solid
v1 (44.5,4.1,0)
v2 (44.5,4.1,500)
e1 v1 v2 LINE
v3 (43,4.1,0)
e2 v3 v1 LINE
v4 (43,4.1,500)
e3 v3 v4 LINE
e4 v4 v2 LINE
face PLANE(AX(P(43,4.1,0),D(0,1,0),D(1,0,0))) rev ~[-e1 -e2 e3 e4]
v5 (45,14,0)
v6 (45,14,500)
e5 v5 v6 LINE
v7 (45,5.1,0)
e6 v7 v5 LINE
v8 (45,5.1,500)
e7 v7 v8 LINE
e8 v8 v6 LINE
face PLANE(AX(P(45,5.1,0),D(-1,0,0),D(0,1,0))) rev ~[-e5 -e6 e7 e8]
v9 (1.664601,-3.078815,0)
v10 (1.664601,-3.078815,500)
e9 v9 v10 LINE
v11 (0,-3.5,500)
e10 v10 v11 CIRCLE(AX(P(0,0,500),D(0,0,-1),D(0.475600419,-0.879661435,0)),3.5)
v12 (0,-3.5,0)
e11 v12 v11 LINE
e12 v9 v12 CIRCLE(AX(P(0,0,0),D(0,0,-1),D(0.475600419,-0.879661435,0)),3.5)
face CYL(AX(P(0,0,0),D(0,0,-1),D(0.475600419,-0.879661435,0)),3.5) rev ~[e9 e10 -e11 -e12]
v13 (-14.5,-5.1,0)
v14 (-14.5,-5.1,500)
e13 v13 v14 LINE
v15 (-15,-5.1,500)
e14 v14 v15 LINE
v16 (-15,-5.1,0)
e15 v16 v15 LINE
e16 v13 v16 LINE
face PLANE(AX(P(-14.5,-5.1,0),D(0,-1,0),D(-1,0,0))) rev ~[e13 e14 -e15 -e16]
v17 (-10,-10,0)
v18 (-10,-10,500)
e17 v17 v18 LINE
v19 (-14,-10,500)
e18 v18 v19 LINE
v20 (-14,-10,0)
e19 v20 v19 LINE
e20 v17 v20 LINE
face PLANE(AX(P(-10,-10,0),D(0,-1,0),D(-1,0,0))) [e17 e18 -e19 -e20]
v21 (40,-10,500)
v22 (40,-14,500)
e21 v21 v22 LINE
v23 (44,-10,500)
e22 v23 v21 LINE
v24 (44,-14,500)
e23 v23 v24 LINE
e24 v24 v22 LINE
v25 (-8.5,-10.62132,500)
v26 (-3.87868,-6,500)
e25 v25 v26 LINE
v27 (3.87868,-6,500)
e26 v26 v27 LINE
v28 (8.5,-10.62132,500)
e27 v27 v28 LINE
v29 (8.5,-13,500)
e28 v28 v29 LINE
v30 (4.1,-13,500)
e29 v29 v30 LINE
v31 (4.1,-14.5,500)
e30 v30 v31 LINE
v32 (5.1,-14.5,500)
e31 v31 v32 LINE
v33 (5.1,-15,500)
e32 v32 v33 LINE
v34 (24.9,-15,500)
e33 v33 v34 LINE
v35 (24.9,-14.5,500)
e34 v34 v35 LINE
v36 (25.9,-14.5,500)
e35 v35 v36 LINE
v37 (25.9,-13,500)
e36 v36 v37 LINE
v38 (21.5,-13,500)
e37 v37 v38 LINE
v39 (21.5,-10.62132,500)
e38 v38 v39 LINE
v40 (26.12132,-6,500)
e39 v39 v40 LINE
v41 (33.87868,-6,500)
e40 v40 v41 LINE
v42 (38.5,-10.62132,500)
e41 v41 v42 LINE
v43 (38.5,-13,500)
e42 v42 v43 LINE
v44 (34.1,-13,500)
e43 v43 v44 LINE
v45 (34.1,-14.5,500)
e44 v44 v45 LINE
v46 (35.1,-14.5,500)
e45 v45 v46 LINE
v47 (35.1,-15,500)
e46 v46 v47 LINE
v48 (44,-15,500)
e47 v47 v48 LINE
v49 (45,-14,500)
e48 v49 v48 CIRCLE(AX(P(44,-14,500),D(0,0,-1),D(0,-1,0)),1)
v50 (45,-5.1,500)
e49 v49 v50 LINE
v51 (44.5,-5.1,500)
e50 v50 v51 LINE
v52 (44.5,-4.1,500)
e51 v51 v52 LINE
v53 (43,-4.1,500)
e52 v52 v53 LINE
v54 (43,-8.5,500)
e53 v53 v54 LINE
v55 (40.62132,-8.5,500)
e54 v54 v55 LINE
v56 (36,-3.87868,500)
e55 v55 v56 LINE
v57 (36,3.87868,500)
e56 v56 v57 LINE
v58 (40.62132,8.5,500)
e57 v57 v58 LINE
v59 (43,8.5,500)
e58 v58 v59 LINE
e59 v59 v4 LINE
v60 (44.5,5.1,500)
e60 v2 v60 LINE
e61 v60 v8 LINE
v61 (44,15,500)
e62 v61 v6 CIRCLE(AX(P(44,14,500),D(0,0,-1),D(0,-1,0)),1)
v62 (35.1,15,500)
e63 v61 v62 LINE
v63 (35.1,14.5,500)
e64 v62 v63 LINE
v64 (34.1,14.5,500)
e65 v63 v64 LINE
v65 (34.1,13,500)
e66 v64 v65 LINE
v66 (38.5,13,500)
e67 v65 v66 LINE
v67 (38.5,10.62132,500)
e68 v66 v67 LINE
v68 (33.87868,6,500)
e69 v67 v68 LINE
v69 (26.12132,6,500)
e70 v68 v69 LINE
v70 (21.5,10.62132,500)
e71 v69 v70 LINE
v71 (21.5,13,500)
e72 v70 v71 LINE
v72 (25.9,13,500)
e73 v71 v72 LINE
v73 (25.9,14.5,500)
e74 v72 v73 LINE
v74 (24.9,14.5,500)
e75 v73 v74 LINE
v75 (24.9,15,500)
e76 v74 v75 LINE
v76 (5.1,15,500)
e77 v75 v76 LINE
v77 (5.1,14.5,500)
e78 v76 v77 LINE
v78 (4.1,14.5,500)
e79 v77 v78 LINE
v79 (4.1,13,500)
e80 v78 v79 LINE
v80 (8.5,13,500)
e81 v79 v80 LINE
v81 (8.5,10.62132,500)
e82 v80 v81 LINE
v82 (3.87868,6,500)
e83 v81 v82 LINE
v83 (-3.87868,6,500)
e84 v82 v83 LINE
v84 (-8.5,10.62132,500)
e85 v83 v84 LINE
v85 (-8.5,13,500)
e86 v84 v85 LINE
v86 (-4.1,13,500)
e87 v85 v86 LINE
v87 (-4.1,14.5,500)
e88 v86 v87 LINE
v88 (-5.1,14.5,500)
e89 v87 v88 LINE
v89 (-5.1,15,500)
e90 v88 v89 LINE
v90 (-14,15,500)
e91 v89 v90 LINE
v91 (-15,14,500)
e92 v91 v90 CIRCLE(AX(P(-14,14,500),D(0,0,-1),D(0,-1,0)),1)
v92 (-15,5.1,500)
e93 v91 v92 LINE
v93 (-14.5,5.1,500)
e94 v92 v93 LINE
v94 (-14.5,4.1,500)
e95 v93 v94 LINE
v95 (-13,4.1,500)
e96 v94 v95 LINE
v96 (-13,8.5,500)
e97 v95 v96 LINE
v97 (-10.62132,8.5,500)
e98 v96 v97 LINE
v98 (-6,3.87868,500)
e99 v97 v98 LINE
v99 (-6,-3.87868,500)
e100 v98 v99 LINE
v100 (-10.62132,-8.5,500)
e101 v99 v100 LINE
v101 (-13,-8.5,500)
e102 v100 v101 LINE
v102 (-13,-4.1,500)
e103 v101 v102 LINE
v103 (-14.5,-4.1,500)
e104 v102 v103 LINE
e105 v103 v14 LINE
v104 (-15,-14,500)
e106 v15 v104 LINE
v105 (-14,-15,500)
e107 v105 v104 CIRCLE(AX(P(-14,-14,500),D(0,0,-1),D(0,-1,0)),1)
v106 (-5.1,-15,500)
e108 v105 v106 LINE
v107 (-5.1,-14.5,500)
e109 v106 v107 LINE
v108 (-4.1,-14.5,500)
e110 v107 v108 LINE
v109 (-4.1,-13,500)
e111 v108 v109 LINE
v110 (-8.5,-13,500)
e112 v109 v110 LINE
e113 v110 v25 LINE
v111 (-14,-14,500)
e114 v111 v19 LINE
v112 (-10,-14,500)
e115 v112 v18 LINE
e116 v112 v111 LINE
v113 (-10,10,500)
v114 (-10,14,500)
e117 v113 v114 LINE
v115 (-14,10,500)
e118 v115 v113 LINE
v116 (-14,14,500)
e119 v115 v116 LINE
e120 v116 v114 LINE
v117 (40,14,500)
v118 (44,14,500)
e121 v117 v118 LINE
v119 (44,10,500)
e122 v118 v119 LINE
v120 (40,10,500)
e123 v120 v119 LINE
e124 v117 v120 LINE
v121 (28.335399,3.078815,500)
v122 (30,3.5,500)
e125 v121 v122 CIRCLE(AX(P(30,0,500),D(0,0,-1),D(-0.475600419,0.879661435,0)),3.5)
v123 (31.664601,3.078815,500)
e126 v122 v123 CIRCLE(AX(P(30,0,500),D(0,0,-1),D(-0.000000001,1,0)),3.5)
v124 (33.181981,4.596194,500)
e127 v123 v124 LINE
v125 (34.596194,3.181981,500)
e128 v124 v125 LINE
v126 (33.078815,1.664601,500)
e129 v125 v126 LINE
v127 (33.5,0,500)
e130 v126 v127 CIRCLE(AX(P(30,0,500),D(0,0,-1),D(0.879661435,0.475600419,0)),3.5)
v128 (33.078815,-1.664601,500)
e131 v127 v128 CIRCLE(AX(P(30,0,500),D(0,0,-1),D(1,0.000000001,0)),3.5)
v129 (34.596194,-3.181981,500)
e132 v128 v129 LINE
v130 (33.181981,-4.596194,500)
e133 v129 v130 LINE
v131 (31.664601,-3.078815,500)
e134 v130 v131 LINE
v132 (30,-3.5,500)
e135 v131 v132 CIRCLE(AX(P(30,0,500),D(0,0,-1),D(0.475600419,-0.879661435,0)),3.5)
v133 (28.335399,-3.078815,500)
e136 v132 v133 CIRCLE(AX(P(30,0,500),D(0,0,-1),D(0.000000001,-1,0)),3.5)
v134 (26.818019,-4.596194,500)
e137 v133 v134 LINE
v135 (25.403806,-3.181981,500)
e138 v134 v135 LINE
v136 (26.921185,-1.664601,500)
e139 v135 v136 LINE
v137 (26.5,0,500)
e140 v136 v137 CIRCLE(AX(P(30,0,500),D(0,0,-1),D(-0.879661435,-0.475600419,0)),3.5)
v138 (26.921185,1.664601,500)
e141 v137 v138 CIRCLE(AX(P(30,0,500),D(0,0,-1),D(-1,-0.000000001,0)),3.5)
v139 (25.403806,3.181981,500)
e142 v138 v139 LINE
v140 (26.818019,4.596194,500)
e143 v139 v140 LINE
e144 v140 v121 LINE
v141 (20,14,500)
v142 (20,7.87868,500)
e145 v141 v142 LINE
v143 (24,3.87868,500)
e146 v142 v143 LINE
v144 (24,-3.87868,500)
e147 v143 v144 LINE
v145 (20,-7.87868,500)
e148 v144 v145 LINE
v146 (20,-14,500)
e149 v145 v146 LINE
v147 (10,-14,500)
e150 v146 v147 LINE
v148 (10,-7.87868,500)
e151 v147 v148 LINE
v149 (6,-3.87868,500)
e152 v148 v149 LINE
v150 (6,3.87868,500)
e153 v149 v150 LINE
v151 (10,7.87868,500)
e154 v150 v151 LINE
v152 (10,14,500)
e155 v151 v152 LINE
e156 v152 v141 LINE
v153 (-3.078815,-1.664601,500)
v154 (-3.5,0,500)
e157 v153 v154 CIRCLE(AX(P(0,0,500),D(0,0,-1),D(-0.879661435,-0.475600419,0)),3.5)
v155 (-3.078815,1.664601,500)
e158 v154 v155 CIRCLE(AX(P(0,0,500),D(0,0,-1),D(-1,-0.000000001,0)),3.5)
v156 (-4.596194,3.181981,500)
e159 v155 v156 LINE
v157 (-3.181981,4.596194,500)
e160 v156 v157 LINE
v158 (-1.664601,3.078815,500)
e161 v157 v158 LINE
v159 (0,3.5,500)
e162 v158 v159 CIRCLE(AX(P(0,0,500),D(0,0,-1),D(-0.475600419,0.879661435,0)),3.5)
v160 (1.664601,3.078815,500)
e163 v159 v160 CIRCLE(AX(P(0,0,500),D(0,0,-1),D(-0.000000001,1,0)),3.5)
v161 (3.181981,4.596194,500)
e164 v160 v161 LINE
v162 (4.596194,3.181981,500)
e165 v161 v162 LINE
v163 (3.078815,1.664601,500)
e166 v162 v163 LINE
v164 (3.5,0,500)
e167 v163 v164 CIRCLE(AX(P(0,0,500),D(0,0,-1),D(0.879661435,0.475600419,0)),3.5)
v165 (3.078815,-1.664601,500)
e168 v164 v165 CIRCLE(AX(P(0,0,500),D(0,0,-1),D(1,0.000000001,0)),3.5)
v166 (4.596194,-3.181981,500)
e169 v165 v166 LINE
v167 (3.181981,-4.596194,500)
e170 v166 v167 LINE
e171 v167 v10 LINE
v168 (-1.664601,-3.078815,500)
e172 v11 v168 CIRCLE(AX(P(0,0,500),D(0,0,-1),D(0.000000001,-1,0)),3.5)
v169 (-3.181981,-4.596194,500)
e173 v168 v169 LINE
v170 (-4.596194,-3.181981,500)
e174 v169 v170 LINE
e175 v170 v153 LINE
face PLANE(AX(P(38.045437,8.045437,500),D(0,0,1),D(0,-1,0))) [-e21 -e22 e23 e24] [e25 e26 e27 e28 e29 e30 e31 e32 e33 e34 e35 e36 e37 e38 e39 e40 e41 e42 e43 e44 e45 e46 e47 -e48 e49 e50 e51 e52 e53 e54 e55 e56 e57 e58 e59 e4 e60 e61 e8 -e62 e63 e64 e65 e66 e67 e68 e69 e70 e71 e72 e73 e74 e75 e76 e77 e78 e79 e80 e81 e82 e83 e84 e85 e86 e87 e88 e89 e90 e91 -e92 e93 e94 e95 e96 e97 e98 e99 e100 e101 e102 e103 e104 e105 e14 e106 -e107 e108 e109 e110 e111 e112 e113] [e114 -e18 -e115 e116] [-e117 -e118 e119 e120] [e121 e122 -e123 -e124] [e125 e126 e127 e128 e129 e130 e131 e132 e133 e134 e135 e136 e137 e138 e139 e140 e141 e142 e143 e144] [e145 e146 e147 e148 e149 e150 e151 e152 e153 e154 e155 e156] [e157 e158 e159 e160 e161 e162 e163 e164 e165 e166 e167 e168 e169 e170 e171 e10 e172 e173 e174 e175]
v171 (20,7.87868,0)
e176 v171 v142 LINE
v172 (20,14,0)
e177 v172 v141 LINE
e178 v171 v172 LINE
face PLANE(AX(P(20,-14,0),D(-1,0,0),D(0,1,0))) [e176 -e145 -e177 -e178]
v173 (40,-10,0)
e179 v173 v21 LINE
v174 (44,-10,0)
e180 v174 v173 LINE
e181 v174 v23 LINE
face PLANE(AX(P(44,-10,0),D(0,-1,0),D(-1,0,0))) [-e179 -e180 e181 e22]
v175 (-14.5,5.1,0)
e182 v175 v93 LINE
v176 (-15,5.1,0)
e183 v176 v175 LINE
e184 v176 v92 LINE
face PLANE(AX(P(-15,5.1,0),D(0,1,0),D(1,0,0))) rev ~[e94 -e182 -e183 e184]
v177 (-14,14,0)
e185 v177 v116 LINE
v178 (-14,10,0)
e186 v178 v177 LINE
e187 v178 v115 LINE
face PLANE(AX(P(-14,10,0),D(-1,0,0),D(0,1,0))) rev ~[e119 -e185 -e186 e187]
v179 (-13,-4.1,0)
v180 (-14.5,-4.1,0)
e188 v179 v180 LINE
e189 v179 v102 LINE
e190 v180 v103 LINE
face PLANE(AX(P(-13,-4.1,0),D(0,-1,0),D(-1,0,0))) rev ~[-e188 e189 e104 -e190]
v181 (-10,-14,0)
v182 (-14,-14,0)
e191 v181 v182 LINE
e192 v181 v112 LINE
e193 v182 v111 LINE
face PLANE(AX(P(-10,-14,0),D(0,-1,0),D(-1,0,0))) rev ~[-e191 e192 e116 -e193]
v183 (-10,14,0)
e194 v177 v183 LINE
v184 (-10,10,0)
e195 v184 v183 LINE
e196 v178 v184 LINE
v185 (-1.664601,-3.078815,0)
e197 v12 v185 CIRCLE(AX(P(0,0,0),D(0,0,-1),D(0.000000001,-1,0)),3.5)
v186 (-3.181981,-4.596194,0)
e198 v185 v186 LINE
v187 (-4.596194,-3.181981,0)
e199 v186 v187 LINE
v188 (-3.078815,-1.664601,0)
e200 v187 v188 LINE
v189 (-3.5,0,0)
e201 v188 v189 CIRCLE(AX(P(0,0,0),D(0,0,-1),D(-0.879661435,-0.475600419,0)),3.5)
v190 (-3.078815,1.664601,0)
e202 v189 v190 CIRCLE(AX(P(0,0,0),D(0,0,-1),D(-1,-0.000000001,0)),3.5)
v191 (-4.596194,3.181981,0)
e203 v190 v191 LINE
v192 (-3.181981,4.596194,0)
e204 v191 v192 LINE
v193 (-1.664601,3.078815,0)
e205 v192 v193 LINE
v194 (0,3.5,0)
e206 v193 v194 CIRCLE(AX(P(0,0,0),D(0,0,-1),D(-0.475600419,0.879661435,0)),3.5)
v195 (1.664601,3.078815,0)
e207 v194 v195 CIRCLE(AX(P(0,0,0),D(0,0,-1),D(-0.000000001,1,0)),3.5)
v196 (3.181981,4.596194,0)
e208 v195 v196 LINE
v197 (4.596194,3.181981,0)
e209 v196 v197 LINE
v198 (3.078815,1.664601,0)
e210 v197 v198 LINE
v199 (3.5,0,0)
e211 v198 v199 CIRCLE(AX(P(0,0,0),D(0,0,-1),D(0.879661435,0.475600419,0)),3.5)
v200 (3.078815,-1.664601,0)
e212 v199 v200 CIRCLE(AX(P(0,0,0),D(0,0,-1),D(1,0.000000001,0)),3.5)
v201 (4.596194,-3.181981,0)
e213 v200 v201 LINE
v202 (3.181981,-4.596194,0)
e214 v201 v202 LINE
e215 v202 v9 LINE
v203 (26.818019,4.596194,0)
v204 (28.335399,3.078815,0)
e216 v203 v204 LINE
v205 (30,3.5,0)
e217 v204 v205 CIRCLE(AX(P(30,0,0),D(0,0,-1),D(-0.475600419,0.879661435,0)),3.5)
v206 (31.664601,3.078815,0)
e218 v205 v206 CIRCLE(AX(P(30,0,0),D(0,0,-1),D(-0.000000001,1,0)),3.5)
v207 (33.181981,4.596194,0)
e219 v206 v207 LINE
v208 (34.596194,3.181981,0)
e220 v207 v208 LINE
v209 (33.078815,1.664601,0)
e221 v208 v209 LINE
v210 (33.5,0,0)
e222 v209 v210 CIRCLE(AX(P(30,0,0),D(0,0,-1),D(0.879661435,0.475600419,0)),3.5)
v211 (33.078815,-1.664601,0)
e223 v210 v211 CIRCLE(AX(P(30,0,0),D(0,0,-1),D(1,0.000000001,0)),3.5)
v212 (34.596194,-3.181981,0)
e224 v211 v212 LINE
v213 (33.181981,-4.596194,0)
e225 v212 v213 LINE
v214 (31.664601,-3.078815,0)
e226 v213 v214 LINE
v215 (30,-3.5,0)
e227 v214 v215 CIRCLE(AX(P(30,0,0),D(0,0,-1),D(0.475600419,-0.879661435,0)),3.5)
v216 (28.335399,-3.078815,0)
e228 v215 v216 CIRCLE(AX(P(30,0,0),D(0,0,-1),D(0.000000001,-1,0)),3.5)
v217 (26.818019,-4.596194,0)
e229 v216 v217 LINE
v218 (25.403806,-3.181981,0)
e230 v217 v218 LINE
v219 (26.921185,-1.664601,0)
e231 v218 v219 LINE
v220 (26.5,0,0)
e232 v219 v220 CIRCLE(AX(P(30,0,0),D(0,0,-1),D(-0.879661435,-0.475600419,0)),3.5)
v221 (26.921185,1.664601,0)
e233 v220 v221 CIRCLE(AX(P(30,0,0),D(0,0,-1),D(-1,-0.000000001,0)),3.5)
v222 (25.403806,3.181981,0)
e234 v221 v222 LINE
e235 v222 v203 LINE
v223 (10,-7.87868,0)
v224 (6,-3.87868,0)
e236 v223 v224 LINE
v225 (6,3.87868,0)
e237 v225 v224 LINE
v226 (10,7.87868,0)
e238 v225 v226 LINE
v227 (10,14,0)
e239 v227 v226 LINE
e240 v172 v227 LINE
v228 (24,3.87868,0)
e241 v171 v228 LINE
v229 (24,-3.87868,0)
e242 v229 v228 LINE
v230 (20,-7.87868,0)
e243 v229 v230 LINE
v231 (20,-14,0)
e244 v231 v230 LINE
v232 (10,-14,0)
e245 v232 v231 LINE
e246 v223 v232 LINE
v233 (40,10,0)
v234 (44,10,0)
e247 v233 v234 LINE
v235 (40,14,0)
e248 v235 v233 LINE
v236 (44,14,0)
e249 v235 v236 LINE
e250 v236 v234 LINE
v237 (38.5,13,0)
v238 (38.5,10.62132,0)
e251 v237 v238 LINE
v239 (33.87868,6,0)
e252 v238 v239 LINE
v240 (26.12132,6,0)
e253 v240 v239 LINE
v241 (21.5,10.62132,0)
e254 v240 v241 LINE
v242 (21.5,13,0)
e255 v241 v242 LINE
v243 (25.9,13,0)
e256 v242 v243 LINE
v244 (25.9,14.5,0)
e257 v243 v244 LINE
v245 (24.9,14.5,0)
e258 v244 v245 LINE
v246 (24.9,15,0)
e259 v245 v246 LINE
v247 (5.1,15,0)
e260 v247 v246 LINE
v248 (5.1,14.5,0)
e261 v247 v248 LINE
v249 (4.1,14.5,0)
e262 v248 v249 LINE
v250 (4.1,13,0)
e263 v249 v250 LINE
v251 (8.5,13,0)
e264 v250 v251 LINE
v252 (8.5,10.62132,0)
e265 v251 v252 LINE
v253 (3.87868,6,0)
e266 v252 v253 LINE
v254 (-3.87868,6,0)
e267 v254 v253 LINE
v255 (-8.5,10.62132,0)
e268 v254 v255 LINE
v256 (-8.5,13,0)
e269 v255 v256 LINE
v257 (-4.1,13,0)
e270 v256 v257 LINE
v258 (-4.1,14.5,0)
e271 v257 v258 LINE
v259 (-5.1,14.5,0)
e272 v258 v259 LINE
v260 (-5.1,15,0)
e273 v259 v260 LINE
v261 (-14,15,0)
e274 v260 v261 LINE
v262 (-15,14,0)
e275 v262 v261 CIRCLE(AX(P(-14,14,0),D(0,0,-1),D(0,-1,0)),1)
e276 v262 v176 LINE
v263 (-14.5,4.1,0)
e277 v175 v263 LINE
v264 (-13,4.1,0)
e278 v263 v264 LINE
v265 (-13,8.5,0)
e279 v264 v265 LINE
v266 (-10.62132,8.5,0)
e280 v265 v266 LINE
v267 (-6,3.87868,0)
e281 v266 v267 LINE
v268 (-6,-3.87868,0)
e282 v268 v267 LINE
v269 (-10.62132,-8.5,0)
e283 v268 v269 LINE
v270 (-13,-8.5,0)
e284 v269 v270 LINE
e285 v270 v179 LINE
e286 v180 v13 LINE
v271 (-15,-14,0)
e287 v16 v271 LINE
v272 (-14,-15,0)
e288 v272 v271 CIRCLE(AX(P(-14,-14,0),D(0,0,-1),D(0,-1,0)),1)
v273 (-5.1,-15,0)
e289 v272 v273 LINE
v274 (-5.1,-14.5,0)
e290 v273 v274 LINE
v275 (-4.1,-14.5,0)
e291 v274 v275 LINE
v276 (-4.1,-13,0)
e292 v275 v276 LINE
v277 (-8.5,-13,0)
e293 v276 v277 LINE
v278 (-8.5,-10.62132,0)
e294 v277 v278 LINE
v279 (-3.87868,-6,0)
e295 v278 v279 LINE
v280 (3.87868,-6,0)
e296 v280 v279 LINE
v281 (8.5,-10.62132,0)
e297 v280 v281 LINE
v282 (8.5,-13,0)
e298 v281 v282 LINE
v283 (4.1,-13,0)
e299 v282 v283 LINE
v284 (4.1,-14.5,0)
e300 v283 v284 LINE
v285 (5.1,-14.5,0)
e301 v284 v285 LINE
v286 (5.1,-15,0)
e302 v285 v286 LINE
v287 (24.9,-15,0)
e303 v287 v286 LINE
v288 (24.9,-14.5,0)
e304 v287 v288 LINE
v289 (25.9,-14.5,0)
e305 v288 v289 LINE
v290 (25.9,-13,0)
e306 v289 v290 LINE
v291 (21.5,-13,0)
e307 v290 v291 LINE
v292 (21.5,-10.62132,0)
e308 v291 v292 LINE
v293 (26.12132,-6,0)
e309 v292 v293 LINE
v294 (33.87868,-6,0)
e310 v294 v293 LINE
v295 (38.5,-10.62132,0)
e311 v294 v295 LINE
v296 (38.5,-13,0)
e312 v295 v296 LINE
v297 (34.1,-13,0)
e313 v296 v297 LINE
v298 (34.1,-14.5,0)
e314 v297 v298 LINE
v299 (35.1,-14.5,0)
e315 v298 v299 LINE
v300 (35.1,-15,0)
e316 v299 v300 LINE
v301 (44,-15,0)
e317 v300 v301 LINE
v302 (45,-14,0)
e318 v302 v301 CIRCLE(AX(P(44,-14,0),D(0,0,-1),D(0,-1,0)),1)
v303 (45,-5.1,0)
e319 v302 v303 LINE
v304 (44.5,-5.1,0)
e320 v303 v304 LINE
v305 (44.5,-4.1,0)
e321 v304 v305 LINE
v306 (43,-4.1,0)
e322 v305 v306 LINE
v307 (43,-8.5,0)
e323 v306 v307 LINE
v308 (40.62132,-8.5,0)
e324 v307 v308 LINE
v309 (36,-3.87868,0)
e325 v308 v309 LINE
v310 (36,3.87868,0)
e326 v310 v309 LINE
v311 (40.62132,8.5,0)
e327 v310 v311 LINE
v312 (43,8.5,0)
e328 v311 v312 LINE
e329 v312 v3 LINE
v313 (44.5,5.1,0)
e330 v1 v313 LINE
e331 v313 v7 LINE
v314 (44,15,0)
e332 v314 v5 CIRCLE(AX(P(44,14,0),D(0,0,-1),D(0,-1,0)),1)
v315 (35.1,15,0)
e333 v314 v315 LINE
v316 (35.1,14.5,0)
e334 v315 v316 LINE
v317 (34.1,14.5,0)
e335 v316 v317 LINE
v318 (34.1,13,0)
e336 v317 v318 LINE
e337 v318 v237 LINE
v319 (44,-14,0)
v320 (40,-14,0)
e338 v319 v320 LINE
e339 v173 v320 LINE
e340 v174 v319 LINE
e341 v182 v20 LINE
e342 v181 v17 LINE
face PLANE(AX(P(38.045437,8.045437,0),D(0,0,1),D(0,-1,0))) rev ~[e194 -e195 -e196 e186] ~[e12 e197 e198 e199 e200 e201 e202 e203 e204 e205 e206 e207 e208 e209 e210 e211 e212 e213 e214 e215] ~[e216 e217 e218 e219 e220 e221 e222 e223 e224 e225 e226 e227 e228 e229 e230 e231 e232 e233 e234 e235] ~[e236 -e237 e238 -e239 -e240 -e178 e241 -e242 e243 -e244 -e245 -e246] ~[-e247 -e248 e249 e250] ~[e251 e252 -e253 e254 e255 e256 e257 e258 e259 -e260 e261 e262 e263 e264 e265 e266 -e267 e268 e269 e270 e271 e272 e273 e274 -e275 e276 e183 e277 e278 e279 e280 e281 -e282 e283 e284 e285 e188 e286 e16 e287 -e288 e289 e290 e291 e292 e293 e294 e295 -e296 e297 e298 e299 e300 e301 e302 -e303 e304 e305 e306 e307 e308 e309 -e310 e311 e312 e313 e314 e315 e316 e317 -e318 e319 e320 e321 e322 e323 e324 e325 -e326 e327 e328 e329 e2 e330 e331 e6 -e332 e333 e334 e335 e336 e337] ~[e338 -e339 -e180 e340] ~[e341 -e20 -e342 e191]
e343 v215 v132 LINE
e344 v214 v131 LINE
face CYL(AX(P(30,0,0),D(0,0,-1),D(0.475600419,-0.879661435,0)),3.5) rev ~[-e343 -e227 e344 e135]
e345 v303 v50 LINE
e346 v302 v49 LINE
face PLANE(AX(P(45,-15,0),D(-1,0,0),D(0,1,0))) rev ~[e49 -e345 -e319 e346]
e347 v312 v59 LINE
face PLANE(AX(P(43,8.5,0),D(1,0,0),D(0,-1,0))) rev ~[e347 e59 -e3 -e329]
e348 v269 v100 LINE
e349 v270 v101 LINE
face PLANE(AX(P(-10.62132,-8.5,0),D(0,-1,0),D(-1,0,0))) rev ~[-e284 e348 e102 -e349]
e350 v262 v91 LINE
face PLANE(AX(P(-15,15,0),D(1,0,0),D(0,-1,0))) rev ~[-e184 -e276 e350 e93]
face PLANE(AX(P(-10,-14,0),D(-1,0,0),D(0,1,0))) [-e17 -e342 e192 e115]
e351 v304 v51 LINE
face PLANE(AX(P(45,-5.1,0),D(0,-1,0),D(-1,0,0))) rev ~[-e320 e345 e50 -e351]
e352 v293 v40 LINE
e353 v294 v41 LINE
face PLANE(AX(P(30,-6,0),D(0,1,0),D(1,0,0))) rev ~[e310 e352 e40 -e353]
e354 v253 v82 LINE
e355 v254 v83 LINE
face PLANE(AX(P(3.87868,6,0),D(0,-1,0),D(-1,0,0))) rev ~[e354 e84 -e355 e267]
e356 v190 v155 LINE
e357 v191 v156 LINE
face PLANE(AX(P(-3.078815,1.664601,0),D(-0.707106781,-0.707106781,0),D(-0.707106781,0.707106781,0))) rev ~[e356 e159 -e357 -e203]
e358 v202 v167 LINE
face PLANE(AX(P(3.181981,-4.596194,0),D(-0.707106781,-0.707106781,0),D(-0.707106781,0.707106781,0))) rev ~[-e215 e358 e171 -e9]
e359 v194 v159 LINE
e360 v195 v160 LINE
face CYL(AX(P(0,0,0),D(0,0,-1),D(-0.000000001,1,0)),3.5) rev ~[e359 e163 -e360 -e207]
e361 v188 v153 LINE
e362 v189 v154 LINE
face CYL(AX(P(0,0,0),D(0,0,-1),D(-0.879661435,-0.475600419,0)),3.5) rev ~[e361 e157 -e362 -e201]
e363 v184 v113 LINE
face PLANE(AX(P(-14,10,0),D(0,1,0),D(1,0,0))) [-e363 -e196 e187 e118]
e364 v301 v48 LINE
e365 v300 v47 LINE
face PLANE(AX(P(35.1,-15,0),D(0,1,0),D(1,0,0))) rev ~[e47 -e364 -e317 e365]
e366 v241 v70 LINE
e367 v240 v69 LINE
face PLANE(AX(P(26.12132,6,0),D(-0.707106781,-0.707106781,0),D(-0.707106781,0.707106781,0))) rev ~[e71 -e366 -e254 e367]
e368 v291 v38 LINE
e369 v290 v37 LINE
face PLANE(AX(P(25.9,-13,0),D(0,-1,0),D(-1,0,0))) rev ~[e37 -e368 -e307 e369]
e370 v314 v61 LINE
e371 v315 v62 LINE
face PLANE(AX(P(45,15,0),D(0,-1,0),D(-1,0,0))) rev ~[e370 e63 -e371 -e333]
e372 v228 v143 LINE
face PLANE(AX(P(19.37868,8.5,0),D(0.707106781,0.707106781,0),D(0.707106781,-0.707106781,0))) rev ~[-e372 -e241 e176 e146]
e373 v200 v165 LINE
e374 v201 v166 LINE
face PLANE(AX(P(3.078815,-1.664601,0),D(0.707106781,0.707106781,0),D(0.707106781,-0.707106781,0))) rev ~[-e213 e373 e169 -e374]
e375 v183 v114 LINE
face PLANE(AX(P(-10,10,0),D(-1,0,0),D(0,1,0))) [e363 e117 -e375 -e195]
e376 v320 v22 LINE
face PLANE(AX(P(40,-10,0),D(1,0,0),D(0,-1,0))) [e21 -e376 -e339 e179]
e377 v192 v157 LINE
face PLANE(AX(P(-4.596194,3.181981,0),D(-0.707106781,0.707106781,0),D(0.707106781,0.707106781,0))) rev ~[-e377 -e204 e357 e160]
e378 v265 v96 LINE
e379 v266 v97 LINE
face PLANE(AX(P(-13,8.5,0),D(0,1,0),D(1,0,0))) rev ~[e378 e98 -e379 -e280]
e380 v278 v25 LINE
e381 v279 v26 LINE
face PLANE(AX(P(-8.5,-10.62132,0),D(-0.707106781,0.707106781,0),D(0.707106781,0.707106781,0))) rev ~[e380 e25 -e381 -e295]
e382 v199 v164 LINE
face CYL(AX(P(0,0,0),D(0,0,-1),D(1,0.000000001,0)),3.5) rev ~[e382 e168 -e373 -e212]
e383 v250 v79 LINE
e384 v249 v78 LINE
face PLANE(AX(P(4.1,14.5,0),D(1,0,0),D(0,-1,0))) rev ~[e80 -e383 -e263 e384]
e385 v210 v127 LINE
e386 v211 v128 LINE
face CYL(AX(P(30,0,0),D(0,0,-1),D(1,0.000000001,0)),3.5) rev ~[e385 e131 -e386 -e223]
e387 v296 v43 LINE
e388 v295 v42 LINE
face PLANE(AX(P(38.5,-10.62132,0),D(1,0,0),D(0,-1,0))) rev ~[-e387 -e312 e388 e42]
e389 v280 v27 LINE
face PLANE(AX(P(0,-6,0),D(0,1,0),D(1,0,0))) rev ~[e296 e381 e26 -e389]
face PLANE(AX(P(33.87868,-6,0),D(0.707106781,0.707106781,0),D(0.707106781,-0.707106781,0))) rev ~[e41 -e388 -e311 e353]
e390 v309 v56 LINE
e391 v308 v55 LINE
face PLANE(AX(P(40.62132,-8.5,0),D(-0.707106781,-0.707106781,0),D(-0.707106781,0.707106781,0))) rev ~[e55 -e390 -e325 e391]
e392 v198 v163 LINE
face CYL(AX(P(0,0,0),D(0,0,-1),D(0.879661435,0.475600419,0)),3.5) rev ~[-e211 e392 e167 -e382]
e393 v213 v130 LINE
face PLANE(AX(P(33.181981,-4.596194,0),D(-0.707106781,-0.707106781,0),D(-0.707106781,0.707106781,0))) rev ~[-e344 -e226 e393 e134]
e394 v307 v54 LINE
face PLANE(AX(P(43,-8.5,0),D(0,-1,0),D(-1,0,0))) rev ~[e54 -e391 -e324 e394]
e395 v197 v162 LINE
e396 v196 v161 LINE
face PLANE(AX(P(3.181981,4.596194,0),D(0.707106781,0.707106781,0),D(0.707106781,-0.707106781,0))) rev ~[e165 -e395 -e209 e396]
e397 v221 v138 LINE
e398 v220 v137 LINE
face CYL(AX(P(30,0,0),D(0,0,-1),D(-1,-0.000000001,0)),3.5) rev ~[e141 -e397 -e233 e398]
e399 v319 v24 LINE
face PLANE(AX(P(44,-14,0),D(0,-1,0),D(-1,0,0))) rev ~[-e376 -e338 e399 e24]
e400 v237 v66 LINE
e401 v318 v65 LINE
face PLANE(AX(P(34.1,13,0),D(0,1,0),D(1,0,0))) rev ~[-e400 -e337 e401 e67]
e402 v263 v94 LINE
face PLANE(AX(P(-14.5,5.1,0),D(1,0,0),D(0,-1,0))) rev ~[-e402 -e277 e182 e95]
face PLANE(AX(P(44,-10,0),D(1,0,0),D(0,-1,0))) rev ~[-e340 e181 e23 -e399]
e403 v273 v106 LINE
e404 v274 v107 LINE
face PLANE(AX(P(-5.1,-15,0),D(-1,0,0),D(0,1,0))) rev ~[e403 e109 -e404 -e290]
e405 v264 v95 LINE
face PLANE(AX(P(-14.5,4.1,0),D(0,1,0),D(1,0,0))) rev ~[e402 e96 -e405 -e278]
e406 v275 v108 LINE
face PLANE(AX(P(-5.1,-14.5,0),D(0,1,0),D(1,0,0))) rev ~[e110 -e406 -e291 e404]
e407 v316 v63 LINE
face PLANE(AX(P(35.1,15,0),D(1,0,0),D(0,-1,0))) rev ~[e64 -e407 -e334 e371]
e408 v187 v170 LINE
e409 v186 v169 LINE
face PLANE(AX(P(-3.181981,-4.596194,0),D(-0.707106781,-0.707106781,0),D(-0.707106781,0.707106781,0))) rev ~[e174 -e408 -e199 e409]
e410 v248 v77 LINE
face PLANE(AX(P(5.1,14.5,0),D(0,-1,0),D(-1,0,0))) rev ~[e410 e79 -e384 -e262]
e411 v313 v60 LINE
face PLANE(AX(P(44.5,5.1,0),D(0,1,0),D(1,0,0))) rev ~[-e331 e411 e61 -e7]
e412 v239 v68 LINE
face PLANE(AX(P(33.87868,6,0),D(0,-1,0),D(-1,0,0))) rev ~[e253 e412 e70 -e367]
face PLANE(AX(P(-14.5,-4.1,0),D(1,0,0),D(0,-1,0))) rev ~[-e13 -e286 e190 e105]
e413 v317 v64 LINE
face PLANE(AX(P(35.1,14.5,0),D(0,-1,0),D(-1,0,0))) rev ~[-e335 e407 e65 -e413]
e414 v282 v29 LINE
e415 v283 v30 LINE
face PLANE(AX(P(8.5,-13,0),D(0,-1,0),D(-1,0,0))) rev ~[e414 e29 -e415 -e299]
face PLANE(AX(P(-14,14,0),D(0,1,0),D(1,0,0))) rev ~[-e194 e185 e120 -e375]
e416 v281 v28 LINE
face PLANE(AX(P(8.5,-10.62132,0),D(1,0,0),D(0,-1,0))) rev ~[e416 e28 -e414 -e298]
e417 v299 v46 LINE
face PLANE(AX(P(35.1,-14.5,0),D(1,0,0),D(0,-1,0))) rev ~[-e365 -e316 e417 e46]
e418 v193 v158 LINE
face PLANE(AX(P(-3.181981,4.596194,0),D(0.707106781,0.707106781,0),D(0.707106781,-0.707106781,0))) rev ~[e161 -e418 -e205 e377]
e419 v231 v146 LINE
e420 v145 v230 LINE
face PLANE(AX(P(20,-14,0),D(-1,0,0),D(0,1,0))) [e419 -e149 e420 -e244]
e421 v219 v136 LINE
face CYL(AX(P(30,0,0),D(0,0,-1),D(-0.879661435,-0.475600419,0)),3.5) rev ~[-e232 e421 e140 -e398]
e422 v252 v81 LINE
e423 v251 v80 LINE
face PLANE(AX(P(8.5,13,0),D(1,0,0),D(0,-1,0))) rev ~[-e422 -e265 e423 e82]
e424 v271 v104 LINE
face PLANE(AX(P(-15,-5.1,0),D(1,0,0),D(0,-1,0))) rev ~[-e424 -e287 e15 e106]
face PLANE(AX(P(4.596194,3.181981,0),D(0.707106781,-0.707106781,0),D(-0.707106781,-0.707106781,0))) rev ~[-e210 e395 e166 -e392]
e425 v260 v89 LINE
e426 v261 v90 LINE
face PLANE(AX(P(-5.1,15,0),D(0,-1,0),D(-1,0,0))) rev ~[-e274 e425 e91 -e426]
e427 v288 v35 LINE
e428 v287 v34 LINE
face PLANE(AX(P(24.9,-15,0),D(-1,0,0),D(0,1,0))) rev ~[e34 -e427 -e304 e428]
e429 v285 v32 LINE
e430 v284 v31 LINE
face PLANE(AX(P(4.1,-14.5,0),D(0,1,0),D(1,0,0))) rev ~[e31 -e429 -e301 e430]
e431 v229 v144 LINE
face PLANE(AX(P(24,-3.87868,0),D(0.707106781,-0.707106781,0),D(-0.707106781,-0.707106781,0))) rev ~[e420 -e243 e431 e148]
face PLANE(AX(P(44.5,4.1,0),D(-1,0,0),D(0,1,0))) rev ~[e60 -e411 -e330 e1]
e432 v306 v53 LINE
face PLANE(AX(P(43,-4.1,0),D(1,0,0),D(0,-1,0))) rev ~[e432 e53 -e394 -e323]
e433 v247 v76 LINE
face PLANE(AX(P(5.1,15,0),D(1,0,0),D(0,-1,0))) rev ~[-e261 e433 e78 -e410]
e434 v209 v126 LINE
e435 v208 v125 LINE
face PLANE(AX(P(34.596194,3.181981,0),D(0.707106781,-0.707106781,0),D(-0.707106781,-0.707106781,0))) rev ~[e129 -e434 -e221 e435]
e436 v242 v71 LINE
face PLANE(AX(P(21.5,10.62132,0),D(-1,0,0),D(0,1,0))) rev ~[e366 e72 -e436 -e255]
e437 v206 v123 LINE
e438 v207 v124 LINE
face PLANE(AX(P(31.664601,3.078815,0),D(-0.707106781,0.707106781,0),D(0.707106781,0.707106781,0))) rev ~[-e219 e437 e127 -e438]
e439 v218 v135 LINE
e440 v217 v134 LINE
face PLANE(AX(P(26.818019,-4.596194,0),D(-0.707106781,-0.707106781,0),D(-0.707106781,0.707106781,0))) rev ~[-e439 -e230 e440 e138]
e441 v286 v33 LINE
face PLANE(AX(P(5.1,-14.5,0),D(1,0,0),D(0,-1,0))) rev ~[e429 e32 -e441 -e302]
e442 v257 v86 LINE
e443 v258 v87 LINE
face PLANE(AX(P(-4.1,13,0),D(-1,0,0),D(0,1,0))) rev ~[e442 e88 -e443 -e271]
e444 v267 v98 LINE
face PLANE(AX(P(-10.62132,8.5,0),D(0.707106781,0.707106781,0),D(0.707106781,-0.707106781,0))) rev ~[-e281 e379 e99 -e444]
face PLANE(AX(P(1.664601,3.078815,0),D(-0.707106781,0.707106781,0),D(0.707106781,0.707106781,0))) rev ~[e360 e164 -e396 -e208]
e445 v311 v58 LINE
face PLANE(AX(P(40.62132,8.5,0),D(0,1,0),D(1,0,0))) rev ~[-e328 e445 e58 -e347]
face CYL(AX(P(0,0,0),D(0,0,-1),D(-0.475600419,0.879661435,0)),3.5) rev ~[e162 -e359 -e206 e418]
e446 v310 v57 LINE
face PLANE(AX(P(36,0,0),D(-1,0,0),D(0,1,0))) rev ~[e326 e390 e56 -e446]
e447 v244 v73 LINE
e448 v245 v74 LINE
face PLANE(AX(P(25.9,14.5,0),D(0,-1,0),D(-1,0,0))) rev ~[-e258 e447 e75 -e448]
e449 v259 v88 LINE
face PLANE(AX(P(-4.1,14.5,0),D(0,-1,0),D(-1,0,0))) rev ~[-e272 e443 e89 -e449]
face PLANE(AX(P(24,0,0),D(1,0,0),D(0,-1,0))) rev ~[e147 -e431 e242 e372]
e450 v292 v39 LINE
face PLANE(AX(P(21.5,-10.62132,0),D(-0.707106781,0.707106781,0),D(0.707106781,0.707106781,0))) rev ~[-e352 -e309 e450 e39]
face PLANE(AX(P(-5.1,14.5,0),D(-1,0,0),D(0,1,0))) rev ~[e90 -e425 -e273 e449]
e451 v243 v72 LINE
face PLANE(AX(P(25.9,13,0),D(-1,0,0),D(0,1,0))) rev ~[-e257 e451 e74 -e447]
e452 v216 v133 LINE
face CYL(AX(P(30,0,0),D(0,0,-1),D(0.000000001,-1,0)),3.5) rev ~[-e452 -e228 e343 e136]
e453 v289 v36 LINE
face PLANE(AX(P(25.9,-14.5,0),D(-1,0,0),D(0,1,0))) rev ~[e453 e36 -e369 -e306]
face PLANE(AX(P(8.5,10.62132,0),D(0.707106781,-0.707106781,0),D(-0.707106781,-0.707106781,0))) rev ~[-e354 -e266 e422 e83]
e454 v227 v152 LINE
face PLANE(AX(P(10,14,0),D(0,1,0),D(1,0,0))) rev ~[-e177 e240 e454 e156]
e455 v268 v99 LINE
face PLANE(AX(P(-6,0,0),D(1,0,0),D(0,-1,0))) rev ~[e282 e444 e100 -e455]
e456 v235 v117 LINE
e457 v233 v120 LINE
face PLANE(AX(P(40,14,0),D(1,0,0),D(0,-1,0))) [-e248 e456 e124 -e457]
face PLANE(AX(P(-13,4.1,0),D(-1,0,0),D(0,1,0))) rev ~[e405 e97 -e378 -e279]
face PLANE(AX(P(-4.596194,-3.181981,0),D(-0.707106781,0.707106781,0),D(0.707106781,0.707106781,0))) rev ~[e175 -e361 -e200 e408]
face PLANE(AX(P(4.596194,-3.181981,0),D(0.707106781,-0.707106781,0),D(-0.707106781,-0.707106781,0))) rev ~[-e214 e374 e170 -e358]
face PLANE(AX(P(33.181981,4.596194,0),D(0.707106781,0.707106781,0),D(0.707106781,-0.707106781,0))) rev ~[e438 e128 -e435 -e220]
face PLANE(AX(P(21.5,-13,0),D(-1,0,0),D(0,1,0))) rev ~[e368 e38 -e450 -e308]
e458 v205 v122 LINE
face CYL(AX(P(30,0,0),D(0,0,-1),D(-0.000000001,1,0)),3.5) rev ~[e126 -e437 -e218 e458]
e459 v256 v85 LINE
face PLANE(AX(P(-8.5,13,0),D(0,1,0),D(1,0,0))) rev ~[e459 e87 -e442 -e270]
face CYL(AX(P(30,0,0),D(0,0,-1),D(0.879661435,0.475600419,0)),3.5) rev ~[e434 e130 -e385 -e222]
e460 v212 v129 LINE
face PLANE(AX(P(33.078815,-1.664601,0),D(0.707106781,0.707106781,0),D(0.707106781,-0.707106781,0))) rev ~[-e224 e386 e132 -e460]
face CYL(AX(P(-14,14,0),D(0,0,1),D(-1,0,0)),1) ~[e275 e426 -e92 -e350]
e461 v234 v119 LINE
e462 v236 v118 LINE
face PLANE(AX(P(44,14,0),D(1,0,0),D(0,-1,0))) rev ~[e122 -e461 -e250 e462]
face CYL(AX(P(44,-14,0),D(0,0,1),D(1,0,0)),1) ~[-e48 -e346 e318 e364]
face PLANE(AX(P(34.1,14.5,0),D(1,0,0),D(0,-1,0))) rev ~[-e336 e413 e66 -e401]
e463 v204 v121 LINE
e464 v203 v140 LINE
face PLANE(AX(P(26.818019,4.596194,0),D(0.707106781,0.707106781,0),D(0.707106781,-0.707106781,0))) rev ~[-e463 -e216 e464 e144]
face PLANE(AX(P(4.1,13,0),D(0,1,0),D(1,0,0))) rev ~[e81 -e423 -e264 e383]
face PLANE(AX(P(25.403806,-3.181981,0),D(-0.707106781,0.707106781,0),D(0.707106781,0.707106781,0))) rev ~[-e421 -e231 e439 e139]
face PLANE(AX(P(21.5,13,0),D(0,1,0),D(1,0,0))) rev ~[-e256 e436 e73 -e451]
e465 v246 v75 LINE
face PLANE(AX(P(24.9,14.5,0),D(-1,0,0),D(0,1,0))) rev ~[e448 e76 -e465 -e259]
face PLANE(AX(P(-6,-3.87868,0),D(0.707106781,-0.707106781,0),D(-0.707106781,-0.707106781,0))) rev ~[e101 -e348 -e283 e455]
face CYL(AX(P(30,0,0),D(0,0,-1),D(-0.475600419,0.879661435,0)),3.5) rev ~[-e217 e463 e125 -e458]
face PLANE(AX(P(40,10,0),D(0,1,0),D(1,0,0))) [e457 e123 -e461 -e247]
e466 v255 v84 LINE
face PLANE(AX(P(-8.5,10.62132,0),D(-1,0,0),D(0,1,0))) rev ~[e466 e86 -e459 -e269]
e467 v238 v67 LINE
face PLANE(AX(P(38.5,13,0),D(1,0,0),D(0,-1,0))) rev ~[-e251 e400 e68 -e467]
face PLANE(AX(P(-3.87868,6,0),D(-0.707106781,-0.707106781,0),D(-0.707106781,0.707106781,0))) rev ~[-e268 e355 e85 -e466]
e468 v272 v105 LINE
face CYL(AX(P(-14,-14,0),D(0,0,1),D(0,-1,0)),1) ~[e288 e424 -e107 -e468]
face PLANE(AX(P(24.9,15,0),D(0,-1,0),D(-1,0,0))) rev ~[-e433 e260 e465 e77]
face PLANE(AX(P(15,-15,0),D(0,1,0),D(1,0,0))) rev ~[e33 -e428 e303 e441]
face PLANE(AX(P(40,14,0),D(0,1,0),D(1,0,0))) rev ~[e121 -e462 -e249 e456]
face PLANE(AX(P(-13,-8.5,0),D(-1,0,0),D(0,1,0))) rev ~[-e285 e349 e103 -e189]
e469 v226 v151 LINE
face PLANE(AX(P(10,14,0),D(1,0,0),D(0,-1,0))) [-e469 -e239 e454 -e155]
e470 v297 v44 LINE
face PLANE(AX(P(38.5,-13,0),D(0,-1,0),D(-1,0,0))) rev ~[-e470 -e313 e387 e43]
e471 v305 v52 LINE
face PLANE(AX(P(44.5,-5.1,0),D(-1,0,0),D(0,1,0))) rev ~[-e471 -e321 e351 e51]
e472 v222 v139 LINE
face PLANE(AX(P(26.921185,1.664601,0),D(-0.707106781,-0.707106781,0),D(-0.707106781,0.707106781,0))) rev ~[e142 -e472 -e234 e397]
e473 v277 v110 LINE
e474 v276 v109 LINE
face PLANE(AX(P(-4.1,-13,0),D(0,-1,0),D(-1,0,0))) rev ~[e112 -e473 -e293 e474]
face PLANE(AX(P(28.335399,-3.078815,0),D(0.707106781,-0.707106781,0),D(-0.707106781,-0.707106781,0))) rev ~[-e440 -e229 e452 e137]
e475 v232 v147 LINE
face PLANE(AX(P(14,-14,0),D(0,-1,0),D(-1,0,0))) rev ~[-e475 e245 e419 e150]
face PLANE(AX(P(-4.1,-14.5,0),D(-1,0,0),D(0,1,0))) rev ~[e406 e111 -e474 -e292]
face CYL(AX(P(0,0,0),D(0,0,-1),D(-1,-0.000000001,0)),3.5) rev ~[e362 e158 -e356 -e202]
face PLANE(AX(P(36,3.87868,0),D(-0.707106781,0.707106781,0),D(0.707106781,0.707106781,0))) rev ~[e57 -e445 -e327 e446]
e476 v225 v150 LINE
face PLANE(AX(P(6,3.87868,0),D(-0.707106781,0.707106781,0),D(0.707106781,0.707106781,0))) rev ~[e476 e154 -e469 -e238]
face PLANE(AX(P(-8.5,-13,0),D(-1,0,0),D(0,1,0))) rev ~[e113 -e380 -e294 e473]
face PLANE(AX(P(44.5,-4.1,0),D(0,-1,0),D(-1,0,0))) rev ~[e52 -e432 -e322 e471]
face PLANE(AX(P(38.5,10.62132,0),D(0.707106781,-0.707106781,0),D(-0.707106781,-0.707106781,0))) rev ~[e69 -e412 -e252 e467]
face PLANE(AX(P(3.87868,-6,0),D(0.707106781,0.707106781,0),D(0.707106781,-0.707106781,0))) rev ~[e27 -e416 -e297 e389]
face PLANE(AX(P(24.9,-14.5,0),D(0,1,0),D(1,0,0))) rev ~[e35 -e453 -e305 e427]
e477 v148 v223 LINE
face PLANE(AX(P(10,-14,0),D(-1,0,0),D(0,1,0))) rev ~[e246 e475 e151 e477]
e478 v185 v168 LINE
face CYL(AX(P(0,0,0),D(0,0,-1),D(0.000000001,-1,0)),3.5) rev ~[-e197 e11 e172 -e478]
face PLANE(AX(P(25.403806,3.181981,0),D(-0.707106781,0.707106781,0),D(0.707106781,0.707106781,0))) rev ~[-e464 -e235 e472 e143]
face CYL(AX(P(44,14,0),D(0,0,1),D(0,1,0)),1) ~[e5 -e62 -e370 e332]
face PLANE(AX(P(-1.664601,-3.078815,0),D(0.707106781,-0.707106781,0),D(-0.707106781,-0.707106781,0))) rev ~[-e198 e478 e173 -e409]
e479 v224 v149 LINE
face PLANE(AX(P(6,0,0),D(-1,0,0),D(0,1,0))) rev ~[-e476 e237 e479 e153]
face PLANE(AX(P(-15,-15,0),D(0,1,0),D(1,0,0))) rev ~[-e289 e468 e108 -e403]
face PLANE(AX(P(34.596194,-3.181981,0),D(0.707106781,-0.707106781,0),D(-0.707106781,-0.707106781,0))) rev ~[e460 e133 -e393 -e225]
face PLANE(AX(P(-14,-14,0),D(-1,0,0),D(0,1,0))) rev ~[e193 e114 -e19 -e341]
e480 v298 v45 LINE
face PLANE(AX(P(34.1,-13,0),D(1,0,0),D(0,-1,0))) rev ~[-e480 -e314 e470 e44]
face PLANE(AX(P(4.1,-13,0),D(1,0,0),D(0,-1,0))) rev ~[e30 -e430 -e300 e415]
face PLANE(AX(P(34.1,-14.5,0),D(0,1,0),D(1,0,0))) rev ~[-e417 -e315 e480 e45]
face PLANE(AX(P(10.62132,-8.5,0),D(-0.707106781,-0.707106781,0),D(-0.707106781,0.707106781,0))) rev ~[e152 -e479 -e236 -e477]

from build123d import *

# Parameters (mm, degrees)
ESBO_O1_W                      = 4
ESBO_O1_H                      = 4
RESSALTO_EXTRUS_O1_DEPTH       = 500
PADR_OCIRCULAR1_COUNT          = 4
PADR_O_LINEAR1_COUNT           = 2
PADR_O_LINEAR1_PITCH           = 30
PADR_O_LINEAR1_COPY_1_SKETCH_W = 4
PADR_O_LINEAR1_COPY_1_SKETCH_H = 4
PADR_O_LINEAR1_COPY_1_DEPTH    = 500
PADR_O_LINEAR1_COPY_2_SKETCH_W = 4
PADR_O_LINEAR1_COPY_2_SKETCH_H = 4
PADR_O_LINEAR1_COPY_2_DEPTH    = 500
PADR_O_LINEAR1_COPY_3_SKETCH_W = 4
PADR_O_LINEAR1_COPY_3_SKETCH_H = 4
PADR_O_LINEAR1_COPY_3_DEPTH    = 500
ESBO_O4_W                      = 10
ESBO_O4_H                      = 28
CORTE_EXTRUS_O1_DEPTH          = 503.244960154
FILETE1_R                      = 1


with BuildPart() as part:
    # Esboço1 → Ressalto-extrusão1 (new body)
    with BuildSketch(Plane.XY):
        with BuildLine():
            ThreePointArc((-1.664601464, 3.078815026), (-0.858529967, 3.393070335), (0, 3.5))
            Line((0, 3.5), (0, 6))
            Line((0, 6), (-3.878679656, 6))
            Line((-3.878679656, 6), (-8.5, 10.621320344))
            Line((-8.5, 10.621320344), (-8.5, 13))
            Line((-8.5, 13), (-4.1, 13))
            Line((-4.1, 13), (-4.1, 14.5))
            Line((-4.1, 14.5), (-5.1, 14.5))
            Line((-5.1, 14.5), (-5.1, 15))
            Line((-5.1, 15), (-15, 15))
            Line((-15, 15), (-15, 5.1))
            Line((-15, 5.1), (-14.5, 5.1))
            Line((-14.5, 5.1), (-14.5, 4.1))
            Line((-14.5, 4.1), (-13, 4.1))
            Line((-13, 4.1), (-13, 8.5))
            Line((-13, 8.5), (-10.621320344, 8.5))
            Line((-10.621320344, 8.5), (-6, 3.878679656))
            Line((-6, 3.878679656), (-6, 0))
            Line((-6, 0), (-3.5, 0))
            ThreePointArc((-3.5, 0), (-3.393070335, 0.858529967), (-3.078815026, 1.664601464))
            Line((-3.078815026, 1.664601464), (-4.596194078, 3.181980515))
            Line((-4.596194078, 3.181980515), (-3.181980515, 4.596194078))
            Line((-3.181980515, 4.596194078), (-1.664601464, 3.078815026))
        make_face()
        with Locations((-12, 12)):
            Rectangle(ESBO_O1_W, ESBO_O1_H, mode=Mode.SUBTRACT)
    ressalto_extrus_o1 = extrude(amount=RESSALTO_EXTRUS_O1_DEPTH)

    # PadrãoCircular1: Ressalto-extrusão1 ×4 about axis
    padr_ocircular1_axis = Axis((0, 0, 0), (0, 0, 1))
    for i in range(1, PADR_OCIRCULAR1_COUNT):
        add(ressalto_extrus_o1.rotate(padr_ocircular1_axis, i * 360 / PADR_OCIRCULAR1_COUNT))

    # Padrão linear1: Ressalto-extrusão1 ×2
    with Locations(*[(i * PADR_O_LINEAR1_PITCH, 0, 0) for i in range(1, PADR_O_LINEAR1_COUNT)]):
        add(ressalto_extrus_o1)

    # Padrão linear1 copy 1 sketch → Padrão linear1 copy 1 (add)
    with BuildSketch(Plane(origin=(30, 0, 0), x_dir=(0, 1, 0), z_dir=(0, 0, 1))):
        with BuildLine():
            ThreePointArc((-1.664601464, 3.078815026), (-0.858529967, 3.393070335), (0, 3.5))
            Line((0, 3.5), (0, 6))
            Line((0, 6), (-3.878679656, 6))
            Line((-3.878679656, 6), (-8.5, 10.621320344))
            Line((-8.5, 10.621320344), (-8.5, 13))
            Line((-8.5, 13), (-4.1, 13))
            Line((-4.1, 13), (-4.1, 14.5))
            Line((-4.1, 14.5), (-5.1, 14.5))
            Line((-5.1, 14.5), (-5.1, 15))
            Line((-5.1, 15), (-15, 15))
            Line((-15, 15), (-15, 5.1))
            Line((-15, 5.1), (-14.5, 5.1))
            Line((-14.5, 5.1), (-14.5, 4.1))
            Line((-14.5, 4.1), (-13, 4.1))
            Line((-13, 4.1), (-13, 8.5))
            Line((-13, 8.5), (-10.621320344, 8.5))
            Line((-10.621320344, 8.5), (-6, 3.878679656))
            Line((-6, 3.878679656), (-6, 0))
            Line((-6, 0), (-3.5, 0))
            ThreePointArc((-3.5, 0), (-3.393070335, 0.858529967), (-3.078815026, 1.664601464))
            Line((-3.078815026, 1.664601464), (-4.596194078, 3.181980515))
            Line((-4.596194078, 3.181980515), (-3.181980515, 4.596194078))
            Line((-3.181980515, 4.596194078), (-1.664601464, 3.078815026))
        make_face()
        with Locations((-12, 12)):
            Rectangle(PADR_O_LINEAR1_COPY_1_SKETCH_W, PADR_O_LINEAR1_COPY_1_SKETCH_H, mode=Mode.SUBTRACT)
    extrude(amount=PADR_O_LINEAR1_COPY_1_DEPTH)

    # Padrão linear1 copy 2 sketch → Padrão linear1 copy 2 (add)
    with BuildSketch(Plane(origin=(30, 0, 0), x_dir=(-1, 0, 0), z_dir=(0, 0, 1))):
        with BuildLine():
            ThreePointArc((-1.664601464, 3.078815026), (-0.858529967, 3.393070335), (0, 3.5))
            Line((0, 3.5), (0, 6))
            Line((0, 6), (-3.878679656, 6))
            Line((-3.878679656, 6), (-8.5, 10.621320344))
            Line((-8.5, 10.621320344), (-8.5, 13))
            Line((-8.5, 13), (-4.1, 13))
            Line((-4.1, 13), (-4.1, 14.5))
            Line((-4.1, 14.5), (-5.1, 14.5))
            Line((-5.1, 14.5), (-5.1, 15))
            Line((-5.1, 15), (-15, 15))
            Line((-15, 15), (-15, 5.1))
            Line((-15, 5.1), (-14.5, 5.1))
            Line((-14.5, 5.1), (-14.5, 4.1))
            Line((-14.5, 4.1), (-13, 4.1))
            Line((-13, 4.1), (-13, 8.5))
            Line((-13, 8.5), (-10.621320344, 8.5))
            Line((-10.621320344, 8.5), (-6, 3.878679656))
            Line((-6, 3.878679656), (-6, 0))
            Line((-6, 0), (-3.5, 0))
            ThreePointArc((-3.5, 0), (-3.393070335, 0.858529967), (-3.078815026, 1.664601464))
            Line((-3.078815026, 1.664601464), (-4.596194078, 3.181980515))
            Line((-4.596194078, 3.181980515), (-3.181980515, 4.596194078))
            Line((-3.181980515, 4.596194078), (-1.664601464, 3.078815026))
        make_face()
        with Locations((-12, 12)):
            Rectangle(PADR_O_LINEAR1_COPY_2_SKETCH_W, PADR_O_LINEAR1_COPY_2_SKETCH_H, mode=Mode.SUBTRACT)
    extrude(amount=PADR_O_LINEAR1_COPY_2_DEPTH)

    # Padrão linear1 copy 3 sketch → Padrão linear1 copy 3 (add)
    with BuildSketch(Plane(origin=(30, 0, 0), x_dir=(0, -1, 0), z_dir=(0, 0, 1))):
        with BuildLine():
            ThreePointArc((-1.664601464, 3.078815026), (-0.858529967, 3.393070335), (0, 3.5))
            Line((0, 3.5), (0, 6))
            Line((0, 6), (-3.878679656, 6))
            Line((-3.878679656, 6), (-8.5, 10.621320344))
            Line((-8.5, 10.621320344), (-8.5, 13))
            Line((-8.5, 13), (-4.1, 13))
            Line((-4.1, 13), (-4.1, 14.5))
            Line((-4.1, 14.5), (-5.1, 14.5))
            Line((-5.1, 14.5), (-5.1, 15))
            Line((-5.1, 15), (-15, 15))
            Line((-15, 15), (-15, 5.1))
            Line((-15, 5.1), (-14.5, 5.1))
            Line((-14.5, 5.1), (-14.5, 4.1))
            Line((-14.5, 4.1), (-13, 4.1))
            Line((-13, 4.1), (-13, 8.5))
            Line((-13, 8.5), (-10.621320344, 8.5))
            Line((-10.621320344, 8.5), (-6, 3.878679656))
            Line((-6, 3.878679656), (-6, 0))
            Line((-6, 0), (-3.5, 0))
            ThreePointArc((-3.5, 0), (-3.393070335, 0.858529967), (-3.078815026, 1.664601464))
            Line((-3.078815026, 1.664601464), (-4.596194078, 3.181980515))
            Line((-4.596194078, 3.181980515), (-3.181980515, 4.596194078))
            Line((-3.181980515, 4.596194078), (-1.664601464, 3.078815026))
        make_face()
        with Locations((-12, 12)):
            Rectangle(PADR_O_LINEAR1_COPY_3_SKETCH_W, PADR_O_LINEAR1_COPY_3_SKETCH_H, mode=Mode.SUBTRACT)
    extrude(amount=PADR_O_LINEAR1_COPY_3_DEPTH)

    # Esboço4 → Corte-extrusão1 (cut, through all)
    with BuildSketch(Plane(origin=(0, 0, 0), x_dir=(-1, 0, 0), z_dir=(0, 0, -1))):
        with Locations((-15, 0)):
            Rectangle(ESBO_O4_W, ESBO_O4_H)
    extrude(amount=-CORTE_EXTRUS_O1_DEPTH, mode=Mode.SUBTRACT)

    # Filete1
    filete1_edges = [part.edges().sort_by_distance(p)[0] for p in [
        (45, -15, 250),
        (45, 15, 250),
        (-15, 15, 250),
        (-15, -15, 250),
    ]]
    fillet(filete1_edges, radius=FILETE1_R)


solid = part.part
